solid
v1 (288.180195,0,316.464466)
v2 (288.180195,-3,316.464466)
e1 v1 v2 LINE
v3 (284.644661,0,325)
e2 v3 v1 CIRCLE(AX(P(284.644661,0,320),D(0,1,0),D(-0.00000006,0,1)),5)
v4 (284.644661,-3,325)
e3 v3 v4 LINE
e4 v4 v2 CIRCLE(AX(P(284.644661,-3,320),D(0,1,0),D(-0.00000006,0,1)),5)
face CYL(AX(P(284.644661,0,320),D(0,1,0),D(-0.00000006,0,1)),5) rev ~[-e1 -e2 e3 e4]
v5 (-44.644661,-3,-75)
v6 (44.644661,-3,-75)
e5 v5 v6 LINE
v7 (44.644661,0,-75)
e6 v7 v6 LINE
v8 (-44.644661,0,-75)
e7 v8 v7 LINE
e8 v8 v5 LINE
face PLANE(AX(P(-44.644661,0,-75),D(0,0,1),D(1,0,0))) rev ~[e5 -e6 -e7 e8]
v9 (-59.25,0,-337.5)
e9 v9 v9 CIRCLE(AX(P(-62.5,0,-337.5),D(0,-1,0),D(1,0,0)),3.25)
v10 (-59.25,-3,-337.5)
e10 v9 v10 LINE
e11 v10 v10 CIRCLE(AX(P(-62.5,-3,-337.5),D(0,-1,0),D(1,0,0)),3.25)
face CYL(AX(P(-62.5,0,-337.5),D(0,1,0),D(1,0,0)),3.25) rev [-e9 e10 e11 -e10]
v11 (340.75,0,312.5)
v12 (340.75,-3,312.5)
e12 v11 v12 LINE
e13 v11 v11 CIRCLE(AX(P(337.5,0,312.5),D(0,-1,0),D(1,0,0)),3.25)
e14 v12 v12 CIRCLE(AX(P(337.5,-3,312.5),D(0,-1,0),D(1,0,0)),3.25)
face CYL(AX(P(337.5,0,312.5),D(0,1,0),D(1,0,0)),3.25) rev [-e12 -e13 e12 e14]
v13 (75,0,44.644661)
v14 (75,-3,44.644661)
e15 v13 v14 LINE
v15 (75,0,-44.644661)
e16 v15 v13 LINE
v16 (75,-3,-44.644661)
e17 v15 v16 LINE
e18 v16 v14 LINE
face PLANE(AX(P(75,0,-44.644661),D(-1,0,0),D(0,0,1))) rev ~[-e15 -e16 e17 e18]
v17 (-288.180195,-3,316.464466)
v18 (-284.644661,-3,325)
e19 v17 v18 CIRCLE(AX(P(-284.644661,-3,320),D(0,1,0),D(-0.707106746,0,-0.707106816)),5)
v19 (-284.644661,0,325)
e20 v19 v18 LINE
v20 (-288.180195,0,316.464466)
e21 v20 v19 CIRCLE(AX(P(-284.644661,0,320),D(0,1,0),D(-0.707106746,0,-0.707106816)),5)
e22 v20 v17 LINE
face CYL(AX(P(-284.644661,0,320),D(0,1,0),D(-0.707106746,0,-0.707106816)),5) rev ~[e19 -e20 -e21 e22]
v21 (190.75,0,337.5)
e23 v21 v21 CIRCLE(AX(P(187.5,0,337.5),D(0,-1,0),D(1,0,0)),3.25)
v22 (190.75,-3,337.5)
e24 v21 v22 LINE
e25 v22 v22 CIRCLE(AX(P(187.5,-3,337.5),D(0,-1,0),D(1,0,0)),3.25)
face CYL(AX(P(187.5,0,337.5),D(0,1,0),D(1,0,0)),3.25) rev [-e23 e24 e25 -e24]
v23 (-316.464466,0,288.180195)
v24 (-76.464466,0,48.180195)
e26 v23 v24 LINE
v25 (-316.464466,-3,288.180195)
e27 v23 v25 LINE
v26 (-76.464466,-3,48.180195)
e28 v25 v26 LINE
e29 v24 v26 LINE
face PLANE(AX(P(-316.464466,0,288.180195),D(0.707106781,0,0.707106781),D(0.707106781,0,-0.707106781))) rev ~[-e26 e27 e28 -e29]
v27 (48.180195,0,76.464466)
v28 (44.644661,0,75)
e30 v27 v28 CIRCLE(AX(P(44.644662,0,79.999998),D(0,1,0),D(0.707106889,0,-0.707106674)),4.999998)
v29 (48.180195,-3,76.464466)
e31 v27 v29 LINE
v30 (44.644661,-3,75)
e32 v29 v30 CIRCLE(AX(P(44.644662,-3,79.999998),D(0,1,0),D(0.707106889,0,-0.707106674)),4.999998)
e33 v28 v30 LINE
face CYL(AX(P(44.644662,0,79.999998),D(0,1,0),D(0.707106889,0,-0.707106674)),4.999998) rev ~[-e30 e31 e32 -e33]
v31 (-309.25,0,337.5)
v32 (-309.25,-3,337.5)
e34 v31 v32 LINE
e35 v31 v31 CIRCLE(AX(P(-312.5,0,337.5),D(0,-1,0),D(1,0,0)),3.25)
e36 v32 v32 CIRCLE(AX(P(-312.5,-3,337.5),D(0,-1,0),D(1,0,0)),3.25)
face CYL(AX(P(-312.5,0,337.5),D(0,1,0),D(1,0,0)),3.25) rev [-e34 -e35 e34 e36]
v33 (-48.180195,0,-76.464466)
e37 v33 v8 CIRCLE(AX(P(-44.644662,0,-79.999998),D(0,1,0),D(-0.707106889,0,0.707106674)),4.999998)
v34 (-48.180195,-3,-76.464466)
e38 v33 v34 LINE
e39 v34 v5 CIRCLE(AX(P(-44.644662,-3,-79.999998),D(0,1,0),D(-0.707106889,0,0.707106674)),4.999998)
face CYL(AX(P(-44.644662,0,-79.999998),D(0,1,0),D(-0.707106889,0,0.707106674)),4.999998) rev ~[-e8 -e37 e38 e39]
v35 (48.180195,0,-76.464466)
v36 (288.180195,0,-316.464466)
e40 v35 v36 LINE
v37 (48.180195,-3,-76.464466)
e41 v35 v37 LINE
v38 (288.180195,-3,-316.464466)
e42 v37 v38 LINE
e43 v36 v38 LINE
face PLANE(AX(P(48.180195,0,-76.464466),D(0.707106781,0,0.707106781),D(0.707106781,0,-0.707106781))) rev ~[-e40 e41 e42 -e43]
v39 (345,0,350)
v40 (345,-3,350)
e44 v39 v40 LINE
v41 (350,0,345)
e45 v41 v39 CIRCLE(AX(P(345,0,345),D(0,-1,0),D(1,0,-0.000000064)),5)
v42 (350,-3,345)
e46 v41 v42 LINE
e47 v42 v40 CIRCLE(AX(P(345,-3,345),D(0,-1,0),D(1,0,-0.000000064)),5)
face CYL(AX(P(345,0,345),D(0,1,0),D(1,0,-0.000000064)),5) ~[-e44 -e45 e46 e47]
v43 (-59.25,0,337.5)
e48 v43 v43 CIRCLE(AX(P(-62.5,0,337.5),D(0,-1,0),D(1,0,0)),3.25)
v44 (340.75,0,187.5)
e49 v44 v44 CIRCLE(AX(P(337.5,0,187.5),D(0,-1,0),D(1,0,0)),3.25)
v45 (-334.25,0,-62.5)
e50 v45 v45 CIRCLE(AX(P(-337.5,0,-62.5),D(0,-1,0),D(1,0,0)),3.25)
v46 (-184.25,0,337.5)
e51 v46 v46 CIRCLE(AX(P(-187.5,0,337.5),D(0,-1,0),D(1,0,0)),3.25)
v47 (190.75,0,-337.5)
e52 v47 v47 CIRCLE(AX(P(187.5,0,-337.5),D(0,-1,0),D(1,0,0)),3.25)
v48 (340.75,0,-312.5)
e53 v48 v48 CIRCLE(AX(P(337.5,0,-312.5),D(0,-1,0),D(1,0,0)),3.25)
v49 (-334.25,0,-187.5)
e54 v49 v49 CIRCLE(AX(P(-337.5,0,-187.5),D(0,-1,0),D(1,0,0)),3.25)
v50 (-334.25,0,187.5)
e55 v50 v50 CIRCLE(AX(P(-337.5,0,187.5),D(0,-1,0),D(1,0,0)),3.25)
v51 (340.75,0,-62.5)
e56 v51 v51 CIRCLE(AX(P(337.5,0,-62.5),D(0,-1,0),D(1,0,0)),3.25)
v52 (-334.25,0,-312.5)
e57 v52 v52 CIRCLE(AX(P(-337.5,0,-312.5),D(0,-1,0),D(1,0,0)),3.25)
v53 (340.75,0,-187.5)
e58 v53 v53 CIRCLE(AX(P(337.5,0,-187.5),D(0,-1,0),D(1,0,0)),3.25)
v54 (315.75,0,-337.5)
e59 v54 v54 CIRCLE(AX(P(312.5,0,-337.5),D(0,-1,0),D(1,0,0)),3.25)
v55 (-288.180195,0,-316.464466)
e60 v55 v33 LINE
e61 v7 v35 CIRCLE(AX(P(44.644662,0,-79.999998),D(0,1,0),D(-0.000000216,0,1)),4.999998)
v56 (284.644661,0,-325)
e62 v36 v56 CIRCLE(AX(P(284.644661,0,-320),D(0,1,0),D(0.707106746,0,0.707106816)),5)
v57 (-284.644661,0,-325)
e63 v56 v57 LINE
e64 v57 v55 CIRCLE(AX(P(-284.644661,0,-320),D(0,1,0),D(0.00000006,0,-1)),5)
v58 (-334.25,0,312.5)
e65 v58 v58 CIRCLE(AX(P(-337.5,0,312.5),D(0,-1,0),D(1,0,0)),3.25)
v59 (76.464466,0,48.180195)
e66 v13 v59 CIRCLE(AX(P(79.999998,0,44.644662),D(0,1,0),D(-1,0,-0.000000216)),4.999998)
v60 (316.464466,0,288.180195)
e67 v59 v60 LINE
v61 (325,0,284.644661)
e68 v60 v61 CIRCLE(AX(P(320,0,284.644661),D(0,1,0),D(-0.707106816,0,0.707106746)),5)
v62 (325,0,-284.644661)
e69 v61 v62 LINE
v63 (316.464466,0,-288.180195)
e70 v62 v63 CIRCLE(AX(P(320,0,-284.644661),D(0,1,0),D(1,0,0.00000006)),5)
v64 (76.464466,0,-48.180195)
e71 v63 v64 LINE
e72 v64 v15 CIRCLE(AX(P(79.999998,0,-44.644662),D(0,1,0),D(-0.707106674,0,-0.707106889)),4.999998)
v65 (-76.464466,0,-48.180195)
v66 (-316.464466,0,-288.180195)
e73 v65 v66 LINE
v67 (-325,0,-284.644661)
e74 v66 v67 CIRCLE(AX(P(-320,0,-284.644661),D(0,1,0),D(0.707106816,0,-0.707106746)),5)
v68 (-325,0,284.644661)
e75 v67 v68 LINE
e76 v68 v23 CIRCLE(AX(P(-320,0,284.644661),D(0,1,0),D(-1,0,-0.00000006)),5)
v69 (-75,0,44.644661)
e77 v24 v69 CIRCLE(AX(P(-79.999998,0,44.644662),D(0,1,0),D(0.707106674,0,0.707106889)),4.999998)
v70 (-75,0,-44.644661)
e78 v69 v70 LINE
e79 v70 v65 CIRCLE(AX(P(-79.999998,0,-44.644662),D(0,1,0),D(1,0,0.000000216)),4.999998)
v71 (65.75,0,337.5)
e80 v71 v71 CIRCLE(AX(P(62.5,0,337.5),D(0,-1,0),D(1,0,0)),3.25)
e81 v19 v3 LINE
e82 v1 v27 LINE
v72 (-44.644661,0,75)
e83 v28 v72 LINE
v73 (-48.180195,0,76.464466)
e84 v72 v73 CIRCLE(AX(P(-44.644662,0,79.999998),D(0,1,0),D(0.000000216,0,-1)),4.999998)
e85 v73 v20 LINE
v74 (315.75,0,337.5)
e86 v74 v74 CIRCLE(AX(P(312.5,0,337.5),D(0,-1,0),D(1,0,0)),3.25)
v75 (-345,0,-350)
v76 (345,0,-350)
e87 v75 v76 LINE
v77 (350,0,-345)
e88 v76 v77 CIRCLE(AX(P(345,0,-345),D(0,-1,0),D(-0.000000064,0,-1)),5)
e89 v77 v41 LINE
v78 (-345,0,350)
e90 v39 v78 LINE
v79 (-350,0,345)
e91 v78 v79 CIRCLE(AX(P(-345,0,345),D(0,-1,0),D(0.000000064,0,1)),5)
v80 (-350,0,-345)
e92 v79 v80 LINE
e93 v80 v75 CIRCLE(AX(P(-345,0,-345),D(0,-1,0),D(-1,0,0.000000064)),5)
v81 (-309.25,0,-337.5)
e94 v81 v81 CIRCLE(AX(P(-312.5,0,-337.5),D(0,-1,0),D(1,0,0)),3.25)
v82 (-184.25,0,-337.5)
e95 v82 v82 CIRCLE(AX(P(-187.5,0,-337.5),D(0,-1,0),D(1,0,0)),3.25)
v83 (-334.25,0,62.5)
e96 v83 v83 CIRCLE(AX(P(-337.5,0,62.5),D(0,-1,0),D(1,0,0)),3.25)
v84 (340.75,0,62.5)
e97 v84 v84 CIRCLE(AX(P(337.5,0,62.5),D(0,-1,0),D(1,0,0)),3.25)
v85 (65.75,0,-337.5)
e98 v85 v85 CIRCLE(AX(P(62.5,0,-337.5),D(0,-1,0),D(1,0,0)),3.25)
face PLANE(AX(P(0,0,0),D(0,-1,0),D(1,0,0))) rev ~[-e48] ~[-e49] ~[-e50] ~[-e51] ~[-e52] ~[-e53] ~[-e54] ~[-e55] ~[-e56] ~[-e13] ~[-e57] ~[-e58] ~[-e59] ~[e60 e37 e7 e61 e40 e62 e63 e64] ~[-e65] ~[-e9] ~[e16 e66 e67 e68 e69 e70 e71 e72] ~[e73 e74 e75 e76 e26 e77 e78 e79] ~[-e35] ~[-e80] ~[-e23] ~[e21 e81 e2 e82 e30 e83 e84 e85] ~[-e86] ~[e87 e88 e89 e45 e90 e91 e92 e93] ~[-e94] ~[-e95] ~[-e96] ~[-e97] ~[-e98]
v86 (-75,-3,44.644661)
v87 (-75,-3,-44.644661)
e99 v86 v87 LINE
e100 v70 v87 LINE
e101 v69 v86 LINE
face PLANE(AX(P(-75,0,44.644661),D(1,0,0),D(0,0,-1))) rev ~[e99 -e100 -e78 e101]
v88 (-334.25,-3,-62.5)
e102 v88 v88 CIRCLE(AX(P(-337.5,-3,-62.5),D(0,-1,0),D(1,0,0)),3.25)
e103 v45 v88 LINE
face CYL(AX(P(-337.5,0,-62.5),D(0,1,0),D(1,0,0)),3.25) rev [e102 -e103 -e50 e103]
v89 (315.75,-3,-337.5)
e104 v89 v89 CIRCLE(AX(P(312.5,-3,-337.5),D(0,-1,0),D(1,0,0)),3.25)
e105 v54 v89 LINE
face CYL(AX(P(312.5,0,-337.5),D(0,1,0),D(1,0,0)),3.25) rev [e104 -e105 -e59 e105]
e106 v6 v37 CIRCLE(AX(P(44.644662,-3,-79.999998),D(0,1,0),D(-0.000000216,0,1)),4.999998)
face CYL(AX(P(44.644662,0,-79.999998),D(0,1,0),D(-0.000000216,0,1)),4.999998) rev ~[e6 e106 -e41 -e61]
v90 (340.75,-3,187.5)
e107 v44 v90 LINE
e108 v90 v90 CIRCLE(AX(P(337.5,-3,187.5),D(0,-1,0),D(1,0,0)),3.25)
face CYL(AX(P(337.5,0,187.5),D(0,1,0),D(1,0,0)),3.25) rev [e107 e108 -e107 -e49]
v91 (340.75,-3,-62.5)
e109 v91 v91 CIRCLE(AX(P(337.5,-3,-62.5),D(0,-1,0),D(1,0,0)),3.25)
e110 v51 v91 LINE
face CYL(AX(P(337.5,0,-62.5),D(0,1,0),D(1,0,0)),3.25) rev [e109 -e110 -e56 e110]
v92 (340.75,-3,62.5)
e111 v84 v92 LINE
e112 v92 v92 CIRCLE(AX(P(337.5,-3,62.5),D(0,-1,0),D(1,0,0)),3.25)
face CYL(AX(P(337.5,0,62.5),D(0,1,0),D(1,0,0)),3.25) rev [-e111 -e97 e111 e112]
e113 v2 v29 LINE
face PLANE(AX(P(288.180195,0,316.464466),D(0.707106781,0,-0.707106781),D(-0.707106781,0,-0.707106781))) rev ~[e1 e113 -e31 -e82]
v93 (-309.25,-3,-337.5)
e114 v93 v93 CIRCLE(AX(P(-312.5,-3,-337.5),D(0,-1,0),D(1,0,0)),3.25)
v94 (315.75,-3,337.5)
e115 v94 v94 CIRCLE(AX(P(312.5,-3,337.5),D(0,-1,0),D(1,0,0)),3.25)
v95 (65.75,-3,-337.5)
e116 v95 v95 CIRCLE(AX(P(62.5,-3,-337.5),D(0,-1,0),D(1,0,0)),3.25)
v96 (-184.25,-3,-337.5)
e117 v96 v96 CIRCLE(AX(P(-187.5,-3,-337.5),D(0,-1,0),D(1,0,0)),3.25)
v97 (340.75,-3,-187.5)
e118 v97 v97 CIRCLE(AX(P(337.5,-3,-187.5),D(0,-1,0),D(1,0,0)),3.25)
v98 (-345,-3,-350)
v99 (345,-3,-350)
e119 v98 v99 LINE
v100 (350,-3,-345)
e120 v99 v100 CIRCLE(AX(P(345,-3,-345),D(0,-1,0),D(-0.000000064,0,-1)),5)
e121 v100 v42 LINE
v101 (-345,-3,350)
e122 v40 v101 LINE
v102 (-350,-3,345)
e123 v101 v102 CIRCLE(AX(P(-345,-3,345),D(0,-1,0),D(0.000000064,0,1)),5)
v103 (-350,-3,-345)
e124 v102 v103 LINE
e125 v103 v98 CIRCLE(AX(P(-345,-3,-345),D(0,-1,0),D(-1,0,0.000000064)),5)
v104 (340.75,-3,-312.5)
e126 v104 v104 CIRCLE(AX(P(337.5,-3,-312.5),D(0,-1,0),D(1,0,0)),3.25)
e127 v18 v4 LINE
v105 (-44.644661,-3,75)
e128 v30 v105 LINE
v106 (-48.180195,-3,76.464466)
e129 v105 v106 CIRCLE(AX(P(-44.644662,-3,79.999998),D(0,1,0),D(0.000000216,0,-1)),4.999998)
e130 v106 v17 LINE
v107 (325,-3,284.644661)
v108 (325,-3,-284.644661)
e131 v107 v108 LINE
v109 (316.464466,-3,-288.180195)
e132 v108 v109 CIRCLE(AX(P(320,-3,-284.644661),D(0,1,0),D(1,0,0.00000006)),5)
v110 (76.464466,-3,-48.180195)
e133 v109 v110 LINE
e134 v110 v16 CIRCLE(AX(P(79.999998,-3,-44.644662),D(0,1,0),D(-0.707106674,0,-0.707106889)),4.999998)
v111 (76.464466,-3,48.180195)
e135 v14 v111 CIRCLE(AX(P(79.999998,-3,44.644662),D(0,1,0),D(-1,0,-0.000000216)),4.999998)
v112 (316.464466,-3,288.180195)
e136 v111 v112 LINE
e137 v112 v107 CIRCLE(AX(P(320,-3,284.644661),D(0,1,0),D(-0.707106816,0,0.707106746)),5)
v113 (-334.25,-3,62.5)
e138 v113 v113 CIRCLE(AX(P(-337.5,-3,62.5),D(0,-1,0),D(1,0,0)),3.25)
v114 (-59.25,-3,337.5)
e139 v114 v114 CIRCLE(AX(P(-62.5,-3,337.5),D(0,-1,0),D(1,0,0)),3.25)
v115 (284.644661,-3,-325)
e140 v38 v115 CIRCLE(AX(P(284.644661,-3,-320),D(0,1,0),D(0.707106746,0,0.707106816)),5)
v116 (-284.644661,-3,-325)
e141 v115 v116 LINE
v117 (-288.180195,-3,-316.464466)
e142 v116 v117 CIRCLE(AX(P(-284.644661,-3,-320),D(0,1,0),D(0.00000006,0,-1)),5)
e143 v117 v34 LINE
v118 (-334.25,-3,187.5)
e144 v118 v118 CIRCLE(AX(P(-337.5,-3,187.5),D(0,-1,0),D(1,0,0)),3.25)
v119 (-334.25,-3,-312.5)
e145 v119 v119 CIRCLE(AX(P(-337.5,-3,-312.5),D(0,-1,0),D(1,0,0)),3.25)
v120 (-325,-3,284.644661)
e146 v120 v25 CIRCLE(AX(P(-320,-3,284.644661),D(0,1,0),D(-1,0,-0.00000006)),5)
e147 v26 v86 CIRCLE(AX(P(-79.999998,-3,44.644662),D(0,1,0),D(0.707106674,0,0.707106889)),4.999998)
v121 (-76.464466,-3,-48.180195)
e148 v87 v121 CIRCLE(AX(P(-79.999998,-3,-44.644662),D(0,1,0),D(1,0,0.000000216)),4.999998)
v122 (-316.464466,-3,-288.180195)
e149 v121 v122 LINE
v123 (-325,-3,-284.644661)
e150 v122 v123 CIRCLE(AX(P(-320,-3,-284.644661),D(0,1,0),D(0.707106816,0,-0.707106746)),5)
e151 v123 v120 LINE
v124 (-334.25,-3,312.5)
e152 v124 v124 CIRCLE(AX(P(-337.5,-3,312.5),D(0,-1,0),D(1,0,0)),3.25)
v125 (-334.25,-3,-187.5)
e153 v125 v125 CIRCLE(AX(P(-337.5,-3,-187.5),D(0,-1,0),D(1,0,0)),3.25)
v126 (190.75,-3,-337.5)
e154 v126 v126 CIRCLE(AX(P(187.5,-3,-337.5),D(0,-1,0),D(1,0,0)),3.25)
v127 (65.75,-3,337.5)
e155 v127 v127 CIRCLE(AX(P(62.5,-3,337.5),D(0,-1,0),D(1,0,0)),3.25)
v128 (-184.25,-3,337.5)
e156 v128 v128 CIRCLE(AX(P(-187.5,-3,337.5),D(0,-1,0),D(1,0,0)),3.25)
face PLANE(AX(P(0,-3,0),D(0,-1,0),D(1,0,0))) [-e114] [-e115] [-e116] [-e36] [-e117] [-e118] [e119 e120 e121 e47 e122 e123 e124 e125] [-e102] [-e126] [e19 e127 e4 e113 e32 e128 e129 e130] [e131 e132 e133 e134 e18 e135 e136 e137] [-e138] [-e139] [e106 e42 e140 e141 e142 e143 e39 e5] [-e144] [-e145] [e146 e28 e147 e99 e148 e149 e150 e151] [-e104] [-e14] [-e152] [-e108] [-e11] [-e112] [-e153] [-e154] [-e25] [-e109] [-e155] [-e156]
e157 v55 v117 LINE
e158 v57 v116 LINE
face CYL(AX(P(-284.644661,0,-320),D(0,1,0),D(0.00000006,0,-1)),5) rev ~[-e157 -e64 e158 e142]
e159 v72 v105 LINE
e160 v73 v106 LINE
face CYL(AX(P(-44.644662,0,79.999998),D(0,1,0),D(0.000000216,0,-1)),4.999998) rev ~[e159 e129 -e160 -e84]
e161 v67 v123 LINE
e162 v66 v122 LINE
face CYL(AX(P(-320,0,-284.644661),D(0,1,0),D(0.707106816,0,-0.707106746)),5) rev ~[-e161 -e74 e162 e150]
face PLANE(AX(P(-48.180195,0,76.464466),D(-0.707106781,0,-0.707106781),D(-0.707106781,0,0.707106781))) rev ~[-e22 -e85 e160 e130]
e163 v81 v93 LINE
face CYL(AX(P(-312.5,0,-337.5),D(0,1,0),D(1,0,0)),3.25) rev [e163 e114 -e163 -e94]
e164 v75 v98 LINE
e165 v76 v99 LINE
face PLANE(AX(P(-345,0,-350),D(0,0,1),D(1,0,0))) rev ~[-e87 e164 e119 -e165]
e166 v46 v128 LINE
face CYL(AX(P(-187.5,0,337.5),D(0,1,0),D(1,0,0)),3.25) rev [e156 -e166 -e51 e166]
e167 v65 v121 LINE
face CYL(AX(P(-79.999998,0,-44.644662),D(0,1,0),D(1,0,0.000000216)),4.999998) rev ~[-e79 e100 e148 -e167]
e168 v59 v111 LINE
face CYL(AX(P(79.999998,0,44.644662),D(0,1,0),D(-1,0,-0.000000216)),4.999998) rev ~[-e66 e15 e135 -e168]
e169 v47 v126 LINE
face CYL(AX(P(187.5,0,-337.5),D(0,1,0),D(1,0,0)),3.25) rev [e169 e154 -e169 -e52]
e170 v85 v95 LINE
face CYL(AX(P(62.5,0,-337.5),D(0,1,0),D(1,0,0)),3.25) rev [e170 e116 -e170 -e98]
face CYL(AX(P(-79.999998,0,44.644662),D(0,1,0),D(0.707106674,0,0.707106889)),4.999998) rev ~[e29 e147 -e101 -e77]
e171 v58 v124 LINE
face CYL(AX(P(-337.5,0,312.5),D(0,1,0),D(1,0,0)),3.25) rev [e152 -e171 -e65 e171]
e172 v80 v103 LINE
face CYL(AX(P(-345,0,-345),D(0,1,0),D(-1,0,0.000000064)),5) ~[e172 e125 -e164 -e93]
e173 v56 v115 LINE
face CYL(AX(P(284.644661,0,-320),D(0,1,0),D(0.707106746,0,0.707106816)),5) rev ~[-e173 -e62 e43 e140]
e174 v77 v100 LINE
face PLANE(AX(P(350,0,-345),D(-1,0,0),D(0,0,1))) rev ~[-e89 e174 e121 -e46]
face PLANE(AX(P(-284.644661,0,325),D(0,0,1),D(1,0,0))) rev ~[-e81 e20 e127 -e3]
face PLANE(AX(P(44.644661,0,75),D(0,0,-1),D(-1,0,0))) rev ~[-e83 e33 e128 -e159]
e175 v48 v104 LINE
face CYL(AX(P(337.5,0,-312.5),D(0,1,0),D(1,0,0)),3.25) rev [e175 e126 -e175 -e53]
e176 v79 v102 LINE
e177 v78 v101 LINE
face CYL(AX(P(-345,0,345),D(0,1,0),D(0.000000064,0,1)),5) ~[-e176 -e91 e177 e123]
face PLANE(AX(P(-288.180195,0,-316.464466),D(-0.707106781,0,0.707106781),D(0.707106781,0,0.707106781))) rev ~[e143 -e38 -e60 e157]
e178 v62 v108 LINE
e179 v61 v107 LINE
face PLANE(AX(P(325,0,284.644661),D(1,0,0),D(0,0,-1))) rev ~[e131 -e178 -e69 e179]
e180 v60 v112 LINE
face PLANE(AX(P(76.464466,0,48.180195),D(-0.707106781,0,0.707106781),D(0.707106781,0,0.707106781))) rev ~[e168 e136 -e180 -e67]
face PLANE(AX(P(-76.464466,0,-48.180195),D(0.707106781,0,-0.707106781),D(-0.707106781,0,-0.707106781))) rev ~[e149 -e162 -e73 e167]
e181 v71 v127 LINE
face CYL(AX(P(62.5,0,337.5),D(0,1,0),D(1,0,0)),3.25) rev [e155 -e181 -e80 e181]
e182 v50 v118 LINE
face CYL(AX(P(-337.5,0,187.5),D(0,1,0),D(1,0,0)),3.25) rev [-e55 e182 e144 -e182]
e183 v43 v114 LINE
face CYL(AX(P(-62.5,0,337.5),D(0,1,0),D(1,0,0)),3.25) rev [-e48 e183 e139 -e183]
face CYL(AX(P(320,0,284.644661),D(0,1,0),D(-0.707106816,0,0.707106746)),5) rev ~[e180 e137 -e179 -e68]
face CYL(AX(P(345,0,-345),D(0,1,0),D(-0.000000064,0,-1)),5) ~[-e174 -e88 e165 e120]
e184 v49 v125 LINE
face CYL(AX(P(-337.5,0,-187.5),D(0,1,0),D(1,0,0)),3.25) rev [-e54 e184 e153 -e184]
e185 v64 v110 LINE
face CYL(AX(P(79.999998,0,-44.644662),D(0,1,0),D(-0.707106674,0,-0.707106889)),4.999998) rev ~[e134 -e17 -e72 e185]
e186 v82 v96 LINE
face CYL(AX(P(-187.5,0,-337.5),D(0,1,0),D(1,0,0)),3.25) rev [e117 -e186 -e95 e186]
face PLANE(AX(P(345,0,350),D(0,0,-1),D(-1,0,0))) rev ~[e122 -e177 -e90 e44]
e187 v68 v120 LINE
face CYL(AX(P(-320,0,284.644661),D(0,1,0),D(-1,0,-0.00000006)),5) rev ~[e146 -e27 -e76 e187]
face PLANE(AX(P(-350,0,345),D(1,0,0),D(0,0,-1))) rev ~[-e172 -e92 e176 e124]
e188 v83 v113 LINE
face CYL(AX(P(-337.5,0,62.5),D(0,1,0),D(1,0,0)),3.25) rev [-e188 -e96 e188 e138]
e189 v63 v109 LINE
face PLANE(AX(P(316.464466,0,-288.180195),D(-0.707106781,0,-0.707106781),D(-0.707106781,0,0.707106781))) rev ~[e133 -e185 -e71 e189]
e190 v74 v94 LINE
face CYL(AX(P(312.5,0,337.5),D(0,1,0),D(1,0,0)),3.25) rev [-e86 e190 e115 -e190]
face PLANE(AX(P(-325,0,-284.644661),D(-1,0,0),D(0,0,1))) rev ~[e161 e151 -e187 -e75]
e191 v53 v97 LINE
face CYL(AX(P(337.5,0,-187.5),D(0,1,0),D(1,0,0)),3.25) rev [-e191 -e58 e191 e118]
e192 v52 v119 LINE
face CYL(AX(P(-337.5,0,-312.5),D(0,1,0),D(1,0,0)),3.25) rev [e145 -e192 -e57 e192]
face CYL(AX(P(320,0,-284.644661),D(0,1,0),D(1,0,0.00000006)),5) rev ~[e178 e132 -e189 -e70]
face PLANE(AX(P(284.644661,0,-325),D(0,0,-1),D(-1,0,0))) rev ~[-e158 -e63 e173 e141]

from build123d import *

# Parameters (mm, degrees)
F0_R     = 3.25
F1_DEPTH = 3


with BuildPart() as f1:
    # F0 (on Front) → F1 (new body)
    with BuildSketch(Plane.XZ):
        with BuildLine():
            ThreePointArc((350, 345), (348.535534, 348.535534), (345, 350))
            Line((345, 350), (-345, 350))
            ThreePointArc((-345, 350), (-348.535534, 348.535534), (-350, 345))
            Line((-350, 345), (-350, -345))
            ThreePointArc((-350, -345), (-348.535534, -348.535534), (-345, -350))
            Line((-345, -350), (345, -350))
            ThreePointArc((345, -350), (348.535534, -348.535534), (350, -345))
            Line((350, -345), (350, 345))
        make_face()
        with Locations((-312.5, -337.5)):
            Circle(F0_R, mode=Mode.SUBTRACT)
        with Locations((-337.5, -312.5)):
            Circle(F0_R, mode=Mode.SUBTRACT)
        with Locations((-187.5, -337.5)):
            Circle(F0_R, mode=Mode.SUBTRACT)
        with Locations((-337.5, -187.5)):
            Circle(F0_R, mode=Mode.SUBTRACT)
        with Locations((-62.5, -337.5)):
            Circle(F0_R, mode=Mode.SUBTRACT)
        with BuildLine():
            Line((-44.644661, -75), (44.644661, -75))
            ThreePointArc((44.644661, -75), (46.558078, -75.380602), (48.180195, -76.464466))
            Line((48.180195, -76.464466), (288.180195, -316.464466))
            ThreePointArc((288.180195, -316.464466), (289.264059, -321.913417), (284.644661, -325))
            Line((284.644661, -325), (-284.644661, -325))
            ThreePointArc((-284.644661, -325), (-289.264059, -321.913417), (-288.180195, -316.464466))
            Line((-288.180195, -316.464466), (-48.180195, -76.464466))
            ThreePointArc((-48.180195, -76.464466), (-46.558078, -75.380602), (-44.644661, -75))
        make_face(mode=Mode.SUBTRACT)
        with Locations((-337.5, -62.5)):
            Circle(F0_R, mode=Mode.SUBTRACT)
        with Locations((62.5, -337.5)):
            Circle(F0_R, mode=Mode.SUBTRACT)
        with Locations((187.5, -337.5)):
            Circle(F0_R, mode=Mode.SUBTRACT)
        with Locations((312.5, -337.5)):
            Circle(F0_R, mode=Mode.SUBTRACT)
        with Locations((337.5, -312.5)):
            Circle(F0_R, mode=Mode.SUBTRACT)
        with Locations((337.5, -187.5)):
            Circle(F0_R, mode=Mode.SUBTRACT)
        with BuildLine():
            Line((75, -44.644661), (75, 44.644661))
            ThreePointArc((75, 44.644661), (75.380602, 46.558078), (76.464466, 48.180195))
            Line((76.464466, 48.180195), (316.464466, 288.180195))
            ThreePointArc((316.464466, 288.180195), (321.913417, 289.264059), (325, 284.644661))
            Line((325, 284.644661), (325, -284.644661))
            ThreePointArc((325, -284.644661), (321.913417, -289.264059), (316.464466, -288.180195))
            Line((316.464466, -288.180195), (76.464466, -48.180195))
            ThreePointArc((76.464466, -48.180195), (75.380602, -46.558078), (75, -44.644661))
        make_face(mode=Mode.SUBTRACT)
        with Locations((337.5, -62.5)):
            Circle(F0_R, mode=Mode.SUBTRACT)
        with Locations((-337.5, 62.5)):
            Circle(F0_R, mode=Mode.SUBTRACT)
        with BuildLine():
            Line((-75, 44.644661), (-75, -44.644661))
            ThreePointArc((-75, -44.644661), (-75.380602, -46.558078), (-76.464466, -48.180195))
            Line((-76.464466, -48.180195), (-316.464466, -288.180195))
            ThreePointArc((-316.464466, -288.180195), (-321.913417, -289.264059), (-325, -284.644661))
            Line((-325, -284.644661), (-325, 284.644661))
            ThreePointArc((-325, 284.644661), (-321.913417, 289.264059), (-316.464466, 288.180195))
            Line((-316.464466, 288.180195), (-76.464466, 48.180195))
            ThreePointArc((-76.464466, 48.180195), (-75.380602, 46.558078), (-75, 44.644661))
        make_face(mode=Mode.SUBTRACT)
        with Locations((-337.5, 187.5)):
            Circle(F0_R, mode=Mode.SUBTRACT)
        with Locations((-337.5, 312.5)):
            Circle(F0_R, mode=Mode.SUBTRACT)
        with Locations((-312.5, 337.5)):
            Circle(F0_R, mode=Mode.SUBTRACT)
        with Locations((-187.5, 337.5)):
            Circle(F0_R, mode=Mode.SUBTRACT)
        with Locations((-62.5, 337.5)):
            Circle(F0_R, mode=Mode.SUBTRACT)
        with Locations((337.5, 62.5)):
            Circle(F0_R, mode=Mode.SUBTRACT)
        with BuildLine():
            Line((44.644661, 75), (-44.644661, 75))
            ThreePointArc((-44.644661, 75), (-46.558078, 75.380602), (-48.180195, 76.464466))
            Line((-48.180195, 76.464466), (-288.180195, 316.464466))
            ThreePointArc((-288.180195, 316.464466), (-289.264059, 321.913417), (-284.644661, 325))
            Line((-284.644661, 325), (284.644661, 325))
            ThreePointArc((284.644661, 325), (289.264059, 321.913417), (288.180195, 316.464466))
            Line((288.180195, 316.464466), (48.180195, 76.464466))
            ThreePointArc((48.180195, 76.464466), (46.558078, 75.380602), (44.644661, 75))
        make_face(mode=Mode.SUBTRACT)
        with Locations((62.5, 337.5)):
            Circle(F0_R, mode=Mode.SUBTRACT)
        with Locations((337.5, 187.5)):
            Circle(F0_R, mode=Mode.SUBTRACT)
        with Locations((187.5, 337.5)):
            Circle(F0_R, mode=Mode.SUBTRACT)
        with Locations((337.5, 312.5)):
            Circle(F0_R, mode=Mode.SUBTRACT)
        with Locations((312.5, 337.5)):
            Circle(F0_R, mode=Mode.SUBTRACT)
    extrude(amount=F1_DEPTH)


solid = f1.part
